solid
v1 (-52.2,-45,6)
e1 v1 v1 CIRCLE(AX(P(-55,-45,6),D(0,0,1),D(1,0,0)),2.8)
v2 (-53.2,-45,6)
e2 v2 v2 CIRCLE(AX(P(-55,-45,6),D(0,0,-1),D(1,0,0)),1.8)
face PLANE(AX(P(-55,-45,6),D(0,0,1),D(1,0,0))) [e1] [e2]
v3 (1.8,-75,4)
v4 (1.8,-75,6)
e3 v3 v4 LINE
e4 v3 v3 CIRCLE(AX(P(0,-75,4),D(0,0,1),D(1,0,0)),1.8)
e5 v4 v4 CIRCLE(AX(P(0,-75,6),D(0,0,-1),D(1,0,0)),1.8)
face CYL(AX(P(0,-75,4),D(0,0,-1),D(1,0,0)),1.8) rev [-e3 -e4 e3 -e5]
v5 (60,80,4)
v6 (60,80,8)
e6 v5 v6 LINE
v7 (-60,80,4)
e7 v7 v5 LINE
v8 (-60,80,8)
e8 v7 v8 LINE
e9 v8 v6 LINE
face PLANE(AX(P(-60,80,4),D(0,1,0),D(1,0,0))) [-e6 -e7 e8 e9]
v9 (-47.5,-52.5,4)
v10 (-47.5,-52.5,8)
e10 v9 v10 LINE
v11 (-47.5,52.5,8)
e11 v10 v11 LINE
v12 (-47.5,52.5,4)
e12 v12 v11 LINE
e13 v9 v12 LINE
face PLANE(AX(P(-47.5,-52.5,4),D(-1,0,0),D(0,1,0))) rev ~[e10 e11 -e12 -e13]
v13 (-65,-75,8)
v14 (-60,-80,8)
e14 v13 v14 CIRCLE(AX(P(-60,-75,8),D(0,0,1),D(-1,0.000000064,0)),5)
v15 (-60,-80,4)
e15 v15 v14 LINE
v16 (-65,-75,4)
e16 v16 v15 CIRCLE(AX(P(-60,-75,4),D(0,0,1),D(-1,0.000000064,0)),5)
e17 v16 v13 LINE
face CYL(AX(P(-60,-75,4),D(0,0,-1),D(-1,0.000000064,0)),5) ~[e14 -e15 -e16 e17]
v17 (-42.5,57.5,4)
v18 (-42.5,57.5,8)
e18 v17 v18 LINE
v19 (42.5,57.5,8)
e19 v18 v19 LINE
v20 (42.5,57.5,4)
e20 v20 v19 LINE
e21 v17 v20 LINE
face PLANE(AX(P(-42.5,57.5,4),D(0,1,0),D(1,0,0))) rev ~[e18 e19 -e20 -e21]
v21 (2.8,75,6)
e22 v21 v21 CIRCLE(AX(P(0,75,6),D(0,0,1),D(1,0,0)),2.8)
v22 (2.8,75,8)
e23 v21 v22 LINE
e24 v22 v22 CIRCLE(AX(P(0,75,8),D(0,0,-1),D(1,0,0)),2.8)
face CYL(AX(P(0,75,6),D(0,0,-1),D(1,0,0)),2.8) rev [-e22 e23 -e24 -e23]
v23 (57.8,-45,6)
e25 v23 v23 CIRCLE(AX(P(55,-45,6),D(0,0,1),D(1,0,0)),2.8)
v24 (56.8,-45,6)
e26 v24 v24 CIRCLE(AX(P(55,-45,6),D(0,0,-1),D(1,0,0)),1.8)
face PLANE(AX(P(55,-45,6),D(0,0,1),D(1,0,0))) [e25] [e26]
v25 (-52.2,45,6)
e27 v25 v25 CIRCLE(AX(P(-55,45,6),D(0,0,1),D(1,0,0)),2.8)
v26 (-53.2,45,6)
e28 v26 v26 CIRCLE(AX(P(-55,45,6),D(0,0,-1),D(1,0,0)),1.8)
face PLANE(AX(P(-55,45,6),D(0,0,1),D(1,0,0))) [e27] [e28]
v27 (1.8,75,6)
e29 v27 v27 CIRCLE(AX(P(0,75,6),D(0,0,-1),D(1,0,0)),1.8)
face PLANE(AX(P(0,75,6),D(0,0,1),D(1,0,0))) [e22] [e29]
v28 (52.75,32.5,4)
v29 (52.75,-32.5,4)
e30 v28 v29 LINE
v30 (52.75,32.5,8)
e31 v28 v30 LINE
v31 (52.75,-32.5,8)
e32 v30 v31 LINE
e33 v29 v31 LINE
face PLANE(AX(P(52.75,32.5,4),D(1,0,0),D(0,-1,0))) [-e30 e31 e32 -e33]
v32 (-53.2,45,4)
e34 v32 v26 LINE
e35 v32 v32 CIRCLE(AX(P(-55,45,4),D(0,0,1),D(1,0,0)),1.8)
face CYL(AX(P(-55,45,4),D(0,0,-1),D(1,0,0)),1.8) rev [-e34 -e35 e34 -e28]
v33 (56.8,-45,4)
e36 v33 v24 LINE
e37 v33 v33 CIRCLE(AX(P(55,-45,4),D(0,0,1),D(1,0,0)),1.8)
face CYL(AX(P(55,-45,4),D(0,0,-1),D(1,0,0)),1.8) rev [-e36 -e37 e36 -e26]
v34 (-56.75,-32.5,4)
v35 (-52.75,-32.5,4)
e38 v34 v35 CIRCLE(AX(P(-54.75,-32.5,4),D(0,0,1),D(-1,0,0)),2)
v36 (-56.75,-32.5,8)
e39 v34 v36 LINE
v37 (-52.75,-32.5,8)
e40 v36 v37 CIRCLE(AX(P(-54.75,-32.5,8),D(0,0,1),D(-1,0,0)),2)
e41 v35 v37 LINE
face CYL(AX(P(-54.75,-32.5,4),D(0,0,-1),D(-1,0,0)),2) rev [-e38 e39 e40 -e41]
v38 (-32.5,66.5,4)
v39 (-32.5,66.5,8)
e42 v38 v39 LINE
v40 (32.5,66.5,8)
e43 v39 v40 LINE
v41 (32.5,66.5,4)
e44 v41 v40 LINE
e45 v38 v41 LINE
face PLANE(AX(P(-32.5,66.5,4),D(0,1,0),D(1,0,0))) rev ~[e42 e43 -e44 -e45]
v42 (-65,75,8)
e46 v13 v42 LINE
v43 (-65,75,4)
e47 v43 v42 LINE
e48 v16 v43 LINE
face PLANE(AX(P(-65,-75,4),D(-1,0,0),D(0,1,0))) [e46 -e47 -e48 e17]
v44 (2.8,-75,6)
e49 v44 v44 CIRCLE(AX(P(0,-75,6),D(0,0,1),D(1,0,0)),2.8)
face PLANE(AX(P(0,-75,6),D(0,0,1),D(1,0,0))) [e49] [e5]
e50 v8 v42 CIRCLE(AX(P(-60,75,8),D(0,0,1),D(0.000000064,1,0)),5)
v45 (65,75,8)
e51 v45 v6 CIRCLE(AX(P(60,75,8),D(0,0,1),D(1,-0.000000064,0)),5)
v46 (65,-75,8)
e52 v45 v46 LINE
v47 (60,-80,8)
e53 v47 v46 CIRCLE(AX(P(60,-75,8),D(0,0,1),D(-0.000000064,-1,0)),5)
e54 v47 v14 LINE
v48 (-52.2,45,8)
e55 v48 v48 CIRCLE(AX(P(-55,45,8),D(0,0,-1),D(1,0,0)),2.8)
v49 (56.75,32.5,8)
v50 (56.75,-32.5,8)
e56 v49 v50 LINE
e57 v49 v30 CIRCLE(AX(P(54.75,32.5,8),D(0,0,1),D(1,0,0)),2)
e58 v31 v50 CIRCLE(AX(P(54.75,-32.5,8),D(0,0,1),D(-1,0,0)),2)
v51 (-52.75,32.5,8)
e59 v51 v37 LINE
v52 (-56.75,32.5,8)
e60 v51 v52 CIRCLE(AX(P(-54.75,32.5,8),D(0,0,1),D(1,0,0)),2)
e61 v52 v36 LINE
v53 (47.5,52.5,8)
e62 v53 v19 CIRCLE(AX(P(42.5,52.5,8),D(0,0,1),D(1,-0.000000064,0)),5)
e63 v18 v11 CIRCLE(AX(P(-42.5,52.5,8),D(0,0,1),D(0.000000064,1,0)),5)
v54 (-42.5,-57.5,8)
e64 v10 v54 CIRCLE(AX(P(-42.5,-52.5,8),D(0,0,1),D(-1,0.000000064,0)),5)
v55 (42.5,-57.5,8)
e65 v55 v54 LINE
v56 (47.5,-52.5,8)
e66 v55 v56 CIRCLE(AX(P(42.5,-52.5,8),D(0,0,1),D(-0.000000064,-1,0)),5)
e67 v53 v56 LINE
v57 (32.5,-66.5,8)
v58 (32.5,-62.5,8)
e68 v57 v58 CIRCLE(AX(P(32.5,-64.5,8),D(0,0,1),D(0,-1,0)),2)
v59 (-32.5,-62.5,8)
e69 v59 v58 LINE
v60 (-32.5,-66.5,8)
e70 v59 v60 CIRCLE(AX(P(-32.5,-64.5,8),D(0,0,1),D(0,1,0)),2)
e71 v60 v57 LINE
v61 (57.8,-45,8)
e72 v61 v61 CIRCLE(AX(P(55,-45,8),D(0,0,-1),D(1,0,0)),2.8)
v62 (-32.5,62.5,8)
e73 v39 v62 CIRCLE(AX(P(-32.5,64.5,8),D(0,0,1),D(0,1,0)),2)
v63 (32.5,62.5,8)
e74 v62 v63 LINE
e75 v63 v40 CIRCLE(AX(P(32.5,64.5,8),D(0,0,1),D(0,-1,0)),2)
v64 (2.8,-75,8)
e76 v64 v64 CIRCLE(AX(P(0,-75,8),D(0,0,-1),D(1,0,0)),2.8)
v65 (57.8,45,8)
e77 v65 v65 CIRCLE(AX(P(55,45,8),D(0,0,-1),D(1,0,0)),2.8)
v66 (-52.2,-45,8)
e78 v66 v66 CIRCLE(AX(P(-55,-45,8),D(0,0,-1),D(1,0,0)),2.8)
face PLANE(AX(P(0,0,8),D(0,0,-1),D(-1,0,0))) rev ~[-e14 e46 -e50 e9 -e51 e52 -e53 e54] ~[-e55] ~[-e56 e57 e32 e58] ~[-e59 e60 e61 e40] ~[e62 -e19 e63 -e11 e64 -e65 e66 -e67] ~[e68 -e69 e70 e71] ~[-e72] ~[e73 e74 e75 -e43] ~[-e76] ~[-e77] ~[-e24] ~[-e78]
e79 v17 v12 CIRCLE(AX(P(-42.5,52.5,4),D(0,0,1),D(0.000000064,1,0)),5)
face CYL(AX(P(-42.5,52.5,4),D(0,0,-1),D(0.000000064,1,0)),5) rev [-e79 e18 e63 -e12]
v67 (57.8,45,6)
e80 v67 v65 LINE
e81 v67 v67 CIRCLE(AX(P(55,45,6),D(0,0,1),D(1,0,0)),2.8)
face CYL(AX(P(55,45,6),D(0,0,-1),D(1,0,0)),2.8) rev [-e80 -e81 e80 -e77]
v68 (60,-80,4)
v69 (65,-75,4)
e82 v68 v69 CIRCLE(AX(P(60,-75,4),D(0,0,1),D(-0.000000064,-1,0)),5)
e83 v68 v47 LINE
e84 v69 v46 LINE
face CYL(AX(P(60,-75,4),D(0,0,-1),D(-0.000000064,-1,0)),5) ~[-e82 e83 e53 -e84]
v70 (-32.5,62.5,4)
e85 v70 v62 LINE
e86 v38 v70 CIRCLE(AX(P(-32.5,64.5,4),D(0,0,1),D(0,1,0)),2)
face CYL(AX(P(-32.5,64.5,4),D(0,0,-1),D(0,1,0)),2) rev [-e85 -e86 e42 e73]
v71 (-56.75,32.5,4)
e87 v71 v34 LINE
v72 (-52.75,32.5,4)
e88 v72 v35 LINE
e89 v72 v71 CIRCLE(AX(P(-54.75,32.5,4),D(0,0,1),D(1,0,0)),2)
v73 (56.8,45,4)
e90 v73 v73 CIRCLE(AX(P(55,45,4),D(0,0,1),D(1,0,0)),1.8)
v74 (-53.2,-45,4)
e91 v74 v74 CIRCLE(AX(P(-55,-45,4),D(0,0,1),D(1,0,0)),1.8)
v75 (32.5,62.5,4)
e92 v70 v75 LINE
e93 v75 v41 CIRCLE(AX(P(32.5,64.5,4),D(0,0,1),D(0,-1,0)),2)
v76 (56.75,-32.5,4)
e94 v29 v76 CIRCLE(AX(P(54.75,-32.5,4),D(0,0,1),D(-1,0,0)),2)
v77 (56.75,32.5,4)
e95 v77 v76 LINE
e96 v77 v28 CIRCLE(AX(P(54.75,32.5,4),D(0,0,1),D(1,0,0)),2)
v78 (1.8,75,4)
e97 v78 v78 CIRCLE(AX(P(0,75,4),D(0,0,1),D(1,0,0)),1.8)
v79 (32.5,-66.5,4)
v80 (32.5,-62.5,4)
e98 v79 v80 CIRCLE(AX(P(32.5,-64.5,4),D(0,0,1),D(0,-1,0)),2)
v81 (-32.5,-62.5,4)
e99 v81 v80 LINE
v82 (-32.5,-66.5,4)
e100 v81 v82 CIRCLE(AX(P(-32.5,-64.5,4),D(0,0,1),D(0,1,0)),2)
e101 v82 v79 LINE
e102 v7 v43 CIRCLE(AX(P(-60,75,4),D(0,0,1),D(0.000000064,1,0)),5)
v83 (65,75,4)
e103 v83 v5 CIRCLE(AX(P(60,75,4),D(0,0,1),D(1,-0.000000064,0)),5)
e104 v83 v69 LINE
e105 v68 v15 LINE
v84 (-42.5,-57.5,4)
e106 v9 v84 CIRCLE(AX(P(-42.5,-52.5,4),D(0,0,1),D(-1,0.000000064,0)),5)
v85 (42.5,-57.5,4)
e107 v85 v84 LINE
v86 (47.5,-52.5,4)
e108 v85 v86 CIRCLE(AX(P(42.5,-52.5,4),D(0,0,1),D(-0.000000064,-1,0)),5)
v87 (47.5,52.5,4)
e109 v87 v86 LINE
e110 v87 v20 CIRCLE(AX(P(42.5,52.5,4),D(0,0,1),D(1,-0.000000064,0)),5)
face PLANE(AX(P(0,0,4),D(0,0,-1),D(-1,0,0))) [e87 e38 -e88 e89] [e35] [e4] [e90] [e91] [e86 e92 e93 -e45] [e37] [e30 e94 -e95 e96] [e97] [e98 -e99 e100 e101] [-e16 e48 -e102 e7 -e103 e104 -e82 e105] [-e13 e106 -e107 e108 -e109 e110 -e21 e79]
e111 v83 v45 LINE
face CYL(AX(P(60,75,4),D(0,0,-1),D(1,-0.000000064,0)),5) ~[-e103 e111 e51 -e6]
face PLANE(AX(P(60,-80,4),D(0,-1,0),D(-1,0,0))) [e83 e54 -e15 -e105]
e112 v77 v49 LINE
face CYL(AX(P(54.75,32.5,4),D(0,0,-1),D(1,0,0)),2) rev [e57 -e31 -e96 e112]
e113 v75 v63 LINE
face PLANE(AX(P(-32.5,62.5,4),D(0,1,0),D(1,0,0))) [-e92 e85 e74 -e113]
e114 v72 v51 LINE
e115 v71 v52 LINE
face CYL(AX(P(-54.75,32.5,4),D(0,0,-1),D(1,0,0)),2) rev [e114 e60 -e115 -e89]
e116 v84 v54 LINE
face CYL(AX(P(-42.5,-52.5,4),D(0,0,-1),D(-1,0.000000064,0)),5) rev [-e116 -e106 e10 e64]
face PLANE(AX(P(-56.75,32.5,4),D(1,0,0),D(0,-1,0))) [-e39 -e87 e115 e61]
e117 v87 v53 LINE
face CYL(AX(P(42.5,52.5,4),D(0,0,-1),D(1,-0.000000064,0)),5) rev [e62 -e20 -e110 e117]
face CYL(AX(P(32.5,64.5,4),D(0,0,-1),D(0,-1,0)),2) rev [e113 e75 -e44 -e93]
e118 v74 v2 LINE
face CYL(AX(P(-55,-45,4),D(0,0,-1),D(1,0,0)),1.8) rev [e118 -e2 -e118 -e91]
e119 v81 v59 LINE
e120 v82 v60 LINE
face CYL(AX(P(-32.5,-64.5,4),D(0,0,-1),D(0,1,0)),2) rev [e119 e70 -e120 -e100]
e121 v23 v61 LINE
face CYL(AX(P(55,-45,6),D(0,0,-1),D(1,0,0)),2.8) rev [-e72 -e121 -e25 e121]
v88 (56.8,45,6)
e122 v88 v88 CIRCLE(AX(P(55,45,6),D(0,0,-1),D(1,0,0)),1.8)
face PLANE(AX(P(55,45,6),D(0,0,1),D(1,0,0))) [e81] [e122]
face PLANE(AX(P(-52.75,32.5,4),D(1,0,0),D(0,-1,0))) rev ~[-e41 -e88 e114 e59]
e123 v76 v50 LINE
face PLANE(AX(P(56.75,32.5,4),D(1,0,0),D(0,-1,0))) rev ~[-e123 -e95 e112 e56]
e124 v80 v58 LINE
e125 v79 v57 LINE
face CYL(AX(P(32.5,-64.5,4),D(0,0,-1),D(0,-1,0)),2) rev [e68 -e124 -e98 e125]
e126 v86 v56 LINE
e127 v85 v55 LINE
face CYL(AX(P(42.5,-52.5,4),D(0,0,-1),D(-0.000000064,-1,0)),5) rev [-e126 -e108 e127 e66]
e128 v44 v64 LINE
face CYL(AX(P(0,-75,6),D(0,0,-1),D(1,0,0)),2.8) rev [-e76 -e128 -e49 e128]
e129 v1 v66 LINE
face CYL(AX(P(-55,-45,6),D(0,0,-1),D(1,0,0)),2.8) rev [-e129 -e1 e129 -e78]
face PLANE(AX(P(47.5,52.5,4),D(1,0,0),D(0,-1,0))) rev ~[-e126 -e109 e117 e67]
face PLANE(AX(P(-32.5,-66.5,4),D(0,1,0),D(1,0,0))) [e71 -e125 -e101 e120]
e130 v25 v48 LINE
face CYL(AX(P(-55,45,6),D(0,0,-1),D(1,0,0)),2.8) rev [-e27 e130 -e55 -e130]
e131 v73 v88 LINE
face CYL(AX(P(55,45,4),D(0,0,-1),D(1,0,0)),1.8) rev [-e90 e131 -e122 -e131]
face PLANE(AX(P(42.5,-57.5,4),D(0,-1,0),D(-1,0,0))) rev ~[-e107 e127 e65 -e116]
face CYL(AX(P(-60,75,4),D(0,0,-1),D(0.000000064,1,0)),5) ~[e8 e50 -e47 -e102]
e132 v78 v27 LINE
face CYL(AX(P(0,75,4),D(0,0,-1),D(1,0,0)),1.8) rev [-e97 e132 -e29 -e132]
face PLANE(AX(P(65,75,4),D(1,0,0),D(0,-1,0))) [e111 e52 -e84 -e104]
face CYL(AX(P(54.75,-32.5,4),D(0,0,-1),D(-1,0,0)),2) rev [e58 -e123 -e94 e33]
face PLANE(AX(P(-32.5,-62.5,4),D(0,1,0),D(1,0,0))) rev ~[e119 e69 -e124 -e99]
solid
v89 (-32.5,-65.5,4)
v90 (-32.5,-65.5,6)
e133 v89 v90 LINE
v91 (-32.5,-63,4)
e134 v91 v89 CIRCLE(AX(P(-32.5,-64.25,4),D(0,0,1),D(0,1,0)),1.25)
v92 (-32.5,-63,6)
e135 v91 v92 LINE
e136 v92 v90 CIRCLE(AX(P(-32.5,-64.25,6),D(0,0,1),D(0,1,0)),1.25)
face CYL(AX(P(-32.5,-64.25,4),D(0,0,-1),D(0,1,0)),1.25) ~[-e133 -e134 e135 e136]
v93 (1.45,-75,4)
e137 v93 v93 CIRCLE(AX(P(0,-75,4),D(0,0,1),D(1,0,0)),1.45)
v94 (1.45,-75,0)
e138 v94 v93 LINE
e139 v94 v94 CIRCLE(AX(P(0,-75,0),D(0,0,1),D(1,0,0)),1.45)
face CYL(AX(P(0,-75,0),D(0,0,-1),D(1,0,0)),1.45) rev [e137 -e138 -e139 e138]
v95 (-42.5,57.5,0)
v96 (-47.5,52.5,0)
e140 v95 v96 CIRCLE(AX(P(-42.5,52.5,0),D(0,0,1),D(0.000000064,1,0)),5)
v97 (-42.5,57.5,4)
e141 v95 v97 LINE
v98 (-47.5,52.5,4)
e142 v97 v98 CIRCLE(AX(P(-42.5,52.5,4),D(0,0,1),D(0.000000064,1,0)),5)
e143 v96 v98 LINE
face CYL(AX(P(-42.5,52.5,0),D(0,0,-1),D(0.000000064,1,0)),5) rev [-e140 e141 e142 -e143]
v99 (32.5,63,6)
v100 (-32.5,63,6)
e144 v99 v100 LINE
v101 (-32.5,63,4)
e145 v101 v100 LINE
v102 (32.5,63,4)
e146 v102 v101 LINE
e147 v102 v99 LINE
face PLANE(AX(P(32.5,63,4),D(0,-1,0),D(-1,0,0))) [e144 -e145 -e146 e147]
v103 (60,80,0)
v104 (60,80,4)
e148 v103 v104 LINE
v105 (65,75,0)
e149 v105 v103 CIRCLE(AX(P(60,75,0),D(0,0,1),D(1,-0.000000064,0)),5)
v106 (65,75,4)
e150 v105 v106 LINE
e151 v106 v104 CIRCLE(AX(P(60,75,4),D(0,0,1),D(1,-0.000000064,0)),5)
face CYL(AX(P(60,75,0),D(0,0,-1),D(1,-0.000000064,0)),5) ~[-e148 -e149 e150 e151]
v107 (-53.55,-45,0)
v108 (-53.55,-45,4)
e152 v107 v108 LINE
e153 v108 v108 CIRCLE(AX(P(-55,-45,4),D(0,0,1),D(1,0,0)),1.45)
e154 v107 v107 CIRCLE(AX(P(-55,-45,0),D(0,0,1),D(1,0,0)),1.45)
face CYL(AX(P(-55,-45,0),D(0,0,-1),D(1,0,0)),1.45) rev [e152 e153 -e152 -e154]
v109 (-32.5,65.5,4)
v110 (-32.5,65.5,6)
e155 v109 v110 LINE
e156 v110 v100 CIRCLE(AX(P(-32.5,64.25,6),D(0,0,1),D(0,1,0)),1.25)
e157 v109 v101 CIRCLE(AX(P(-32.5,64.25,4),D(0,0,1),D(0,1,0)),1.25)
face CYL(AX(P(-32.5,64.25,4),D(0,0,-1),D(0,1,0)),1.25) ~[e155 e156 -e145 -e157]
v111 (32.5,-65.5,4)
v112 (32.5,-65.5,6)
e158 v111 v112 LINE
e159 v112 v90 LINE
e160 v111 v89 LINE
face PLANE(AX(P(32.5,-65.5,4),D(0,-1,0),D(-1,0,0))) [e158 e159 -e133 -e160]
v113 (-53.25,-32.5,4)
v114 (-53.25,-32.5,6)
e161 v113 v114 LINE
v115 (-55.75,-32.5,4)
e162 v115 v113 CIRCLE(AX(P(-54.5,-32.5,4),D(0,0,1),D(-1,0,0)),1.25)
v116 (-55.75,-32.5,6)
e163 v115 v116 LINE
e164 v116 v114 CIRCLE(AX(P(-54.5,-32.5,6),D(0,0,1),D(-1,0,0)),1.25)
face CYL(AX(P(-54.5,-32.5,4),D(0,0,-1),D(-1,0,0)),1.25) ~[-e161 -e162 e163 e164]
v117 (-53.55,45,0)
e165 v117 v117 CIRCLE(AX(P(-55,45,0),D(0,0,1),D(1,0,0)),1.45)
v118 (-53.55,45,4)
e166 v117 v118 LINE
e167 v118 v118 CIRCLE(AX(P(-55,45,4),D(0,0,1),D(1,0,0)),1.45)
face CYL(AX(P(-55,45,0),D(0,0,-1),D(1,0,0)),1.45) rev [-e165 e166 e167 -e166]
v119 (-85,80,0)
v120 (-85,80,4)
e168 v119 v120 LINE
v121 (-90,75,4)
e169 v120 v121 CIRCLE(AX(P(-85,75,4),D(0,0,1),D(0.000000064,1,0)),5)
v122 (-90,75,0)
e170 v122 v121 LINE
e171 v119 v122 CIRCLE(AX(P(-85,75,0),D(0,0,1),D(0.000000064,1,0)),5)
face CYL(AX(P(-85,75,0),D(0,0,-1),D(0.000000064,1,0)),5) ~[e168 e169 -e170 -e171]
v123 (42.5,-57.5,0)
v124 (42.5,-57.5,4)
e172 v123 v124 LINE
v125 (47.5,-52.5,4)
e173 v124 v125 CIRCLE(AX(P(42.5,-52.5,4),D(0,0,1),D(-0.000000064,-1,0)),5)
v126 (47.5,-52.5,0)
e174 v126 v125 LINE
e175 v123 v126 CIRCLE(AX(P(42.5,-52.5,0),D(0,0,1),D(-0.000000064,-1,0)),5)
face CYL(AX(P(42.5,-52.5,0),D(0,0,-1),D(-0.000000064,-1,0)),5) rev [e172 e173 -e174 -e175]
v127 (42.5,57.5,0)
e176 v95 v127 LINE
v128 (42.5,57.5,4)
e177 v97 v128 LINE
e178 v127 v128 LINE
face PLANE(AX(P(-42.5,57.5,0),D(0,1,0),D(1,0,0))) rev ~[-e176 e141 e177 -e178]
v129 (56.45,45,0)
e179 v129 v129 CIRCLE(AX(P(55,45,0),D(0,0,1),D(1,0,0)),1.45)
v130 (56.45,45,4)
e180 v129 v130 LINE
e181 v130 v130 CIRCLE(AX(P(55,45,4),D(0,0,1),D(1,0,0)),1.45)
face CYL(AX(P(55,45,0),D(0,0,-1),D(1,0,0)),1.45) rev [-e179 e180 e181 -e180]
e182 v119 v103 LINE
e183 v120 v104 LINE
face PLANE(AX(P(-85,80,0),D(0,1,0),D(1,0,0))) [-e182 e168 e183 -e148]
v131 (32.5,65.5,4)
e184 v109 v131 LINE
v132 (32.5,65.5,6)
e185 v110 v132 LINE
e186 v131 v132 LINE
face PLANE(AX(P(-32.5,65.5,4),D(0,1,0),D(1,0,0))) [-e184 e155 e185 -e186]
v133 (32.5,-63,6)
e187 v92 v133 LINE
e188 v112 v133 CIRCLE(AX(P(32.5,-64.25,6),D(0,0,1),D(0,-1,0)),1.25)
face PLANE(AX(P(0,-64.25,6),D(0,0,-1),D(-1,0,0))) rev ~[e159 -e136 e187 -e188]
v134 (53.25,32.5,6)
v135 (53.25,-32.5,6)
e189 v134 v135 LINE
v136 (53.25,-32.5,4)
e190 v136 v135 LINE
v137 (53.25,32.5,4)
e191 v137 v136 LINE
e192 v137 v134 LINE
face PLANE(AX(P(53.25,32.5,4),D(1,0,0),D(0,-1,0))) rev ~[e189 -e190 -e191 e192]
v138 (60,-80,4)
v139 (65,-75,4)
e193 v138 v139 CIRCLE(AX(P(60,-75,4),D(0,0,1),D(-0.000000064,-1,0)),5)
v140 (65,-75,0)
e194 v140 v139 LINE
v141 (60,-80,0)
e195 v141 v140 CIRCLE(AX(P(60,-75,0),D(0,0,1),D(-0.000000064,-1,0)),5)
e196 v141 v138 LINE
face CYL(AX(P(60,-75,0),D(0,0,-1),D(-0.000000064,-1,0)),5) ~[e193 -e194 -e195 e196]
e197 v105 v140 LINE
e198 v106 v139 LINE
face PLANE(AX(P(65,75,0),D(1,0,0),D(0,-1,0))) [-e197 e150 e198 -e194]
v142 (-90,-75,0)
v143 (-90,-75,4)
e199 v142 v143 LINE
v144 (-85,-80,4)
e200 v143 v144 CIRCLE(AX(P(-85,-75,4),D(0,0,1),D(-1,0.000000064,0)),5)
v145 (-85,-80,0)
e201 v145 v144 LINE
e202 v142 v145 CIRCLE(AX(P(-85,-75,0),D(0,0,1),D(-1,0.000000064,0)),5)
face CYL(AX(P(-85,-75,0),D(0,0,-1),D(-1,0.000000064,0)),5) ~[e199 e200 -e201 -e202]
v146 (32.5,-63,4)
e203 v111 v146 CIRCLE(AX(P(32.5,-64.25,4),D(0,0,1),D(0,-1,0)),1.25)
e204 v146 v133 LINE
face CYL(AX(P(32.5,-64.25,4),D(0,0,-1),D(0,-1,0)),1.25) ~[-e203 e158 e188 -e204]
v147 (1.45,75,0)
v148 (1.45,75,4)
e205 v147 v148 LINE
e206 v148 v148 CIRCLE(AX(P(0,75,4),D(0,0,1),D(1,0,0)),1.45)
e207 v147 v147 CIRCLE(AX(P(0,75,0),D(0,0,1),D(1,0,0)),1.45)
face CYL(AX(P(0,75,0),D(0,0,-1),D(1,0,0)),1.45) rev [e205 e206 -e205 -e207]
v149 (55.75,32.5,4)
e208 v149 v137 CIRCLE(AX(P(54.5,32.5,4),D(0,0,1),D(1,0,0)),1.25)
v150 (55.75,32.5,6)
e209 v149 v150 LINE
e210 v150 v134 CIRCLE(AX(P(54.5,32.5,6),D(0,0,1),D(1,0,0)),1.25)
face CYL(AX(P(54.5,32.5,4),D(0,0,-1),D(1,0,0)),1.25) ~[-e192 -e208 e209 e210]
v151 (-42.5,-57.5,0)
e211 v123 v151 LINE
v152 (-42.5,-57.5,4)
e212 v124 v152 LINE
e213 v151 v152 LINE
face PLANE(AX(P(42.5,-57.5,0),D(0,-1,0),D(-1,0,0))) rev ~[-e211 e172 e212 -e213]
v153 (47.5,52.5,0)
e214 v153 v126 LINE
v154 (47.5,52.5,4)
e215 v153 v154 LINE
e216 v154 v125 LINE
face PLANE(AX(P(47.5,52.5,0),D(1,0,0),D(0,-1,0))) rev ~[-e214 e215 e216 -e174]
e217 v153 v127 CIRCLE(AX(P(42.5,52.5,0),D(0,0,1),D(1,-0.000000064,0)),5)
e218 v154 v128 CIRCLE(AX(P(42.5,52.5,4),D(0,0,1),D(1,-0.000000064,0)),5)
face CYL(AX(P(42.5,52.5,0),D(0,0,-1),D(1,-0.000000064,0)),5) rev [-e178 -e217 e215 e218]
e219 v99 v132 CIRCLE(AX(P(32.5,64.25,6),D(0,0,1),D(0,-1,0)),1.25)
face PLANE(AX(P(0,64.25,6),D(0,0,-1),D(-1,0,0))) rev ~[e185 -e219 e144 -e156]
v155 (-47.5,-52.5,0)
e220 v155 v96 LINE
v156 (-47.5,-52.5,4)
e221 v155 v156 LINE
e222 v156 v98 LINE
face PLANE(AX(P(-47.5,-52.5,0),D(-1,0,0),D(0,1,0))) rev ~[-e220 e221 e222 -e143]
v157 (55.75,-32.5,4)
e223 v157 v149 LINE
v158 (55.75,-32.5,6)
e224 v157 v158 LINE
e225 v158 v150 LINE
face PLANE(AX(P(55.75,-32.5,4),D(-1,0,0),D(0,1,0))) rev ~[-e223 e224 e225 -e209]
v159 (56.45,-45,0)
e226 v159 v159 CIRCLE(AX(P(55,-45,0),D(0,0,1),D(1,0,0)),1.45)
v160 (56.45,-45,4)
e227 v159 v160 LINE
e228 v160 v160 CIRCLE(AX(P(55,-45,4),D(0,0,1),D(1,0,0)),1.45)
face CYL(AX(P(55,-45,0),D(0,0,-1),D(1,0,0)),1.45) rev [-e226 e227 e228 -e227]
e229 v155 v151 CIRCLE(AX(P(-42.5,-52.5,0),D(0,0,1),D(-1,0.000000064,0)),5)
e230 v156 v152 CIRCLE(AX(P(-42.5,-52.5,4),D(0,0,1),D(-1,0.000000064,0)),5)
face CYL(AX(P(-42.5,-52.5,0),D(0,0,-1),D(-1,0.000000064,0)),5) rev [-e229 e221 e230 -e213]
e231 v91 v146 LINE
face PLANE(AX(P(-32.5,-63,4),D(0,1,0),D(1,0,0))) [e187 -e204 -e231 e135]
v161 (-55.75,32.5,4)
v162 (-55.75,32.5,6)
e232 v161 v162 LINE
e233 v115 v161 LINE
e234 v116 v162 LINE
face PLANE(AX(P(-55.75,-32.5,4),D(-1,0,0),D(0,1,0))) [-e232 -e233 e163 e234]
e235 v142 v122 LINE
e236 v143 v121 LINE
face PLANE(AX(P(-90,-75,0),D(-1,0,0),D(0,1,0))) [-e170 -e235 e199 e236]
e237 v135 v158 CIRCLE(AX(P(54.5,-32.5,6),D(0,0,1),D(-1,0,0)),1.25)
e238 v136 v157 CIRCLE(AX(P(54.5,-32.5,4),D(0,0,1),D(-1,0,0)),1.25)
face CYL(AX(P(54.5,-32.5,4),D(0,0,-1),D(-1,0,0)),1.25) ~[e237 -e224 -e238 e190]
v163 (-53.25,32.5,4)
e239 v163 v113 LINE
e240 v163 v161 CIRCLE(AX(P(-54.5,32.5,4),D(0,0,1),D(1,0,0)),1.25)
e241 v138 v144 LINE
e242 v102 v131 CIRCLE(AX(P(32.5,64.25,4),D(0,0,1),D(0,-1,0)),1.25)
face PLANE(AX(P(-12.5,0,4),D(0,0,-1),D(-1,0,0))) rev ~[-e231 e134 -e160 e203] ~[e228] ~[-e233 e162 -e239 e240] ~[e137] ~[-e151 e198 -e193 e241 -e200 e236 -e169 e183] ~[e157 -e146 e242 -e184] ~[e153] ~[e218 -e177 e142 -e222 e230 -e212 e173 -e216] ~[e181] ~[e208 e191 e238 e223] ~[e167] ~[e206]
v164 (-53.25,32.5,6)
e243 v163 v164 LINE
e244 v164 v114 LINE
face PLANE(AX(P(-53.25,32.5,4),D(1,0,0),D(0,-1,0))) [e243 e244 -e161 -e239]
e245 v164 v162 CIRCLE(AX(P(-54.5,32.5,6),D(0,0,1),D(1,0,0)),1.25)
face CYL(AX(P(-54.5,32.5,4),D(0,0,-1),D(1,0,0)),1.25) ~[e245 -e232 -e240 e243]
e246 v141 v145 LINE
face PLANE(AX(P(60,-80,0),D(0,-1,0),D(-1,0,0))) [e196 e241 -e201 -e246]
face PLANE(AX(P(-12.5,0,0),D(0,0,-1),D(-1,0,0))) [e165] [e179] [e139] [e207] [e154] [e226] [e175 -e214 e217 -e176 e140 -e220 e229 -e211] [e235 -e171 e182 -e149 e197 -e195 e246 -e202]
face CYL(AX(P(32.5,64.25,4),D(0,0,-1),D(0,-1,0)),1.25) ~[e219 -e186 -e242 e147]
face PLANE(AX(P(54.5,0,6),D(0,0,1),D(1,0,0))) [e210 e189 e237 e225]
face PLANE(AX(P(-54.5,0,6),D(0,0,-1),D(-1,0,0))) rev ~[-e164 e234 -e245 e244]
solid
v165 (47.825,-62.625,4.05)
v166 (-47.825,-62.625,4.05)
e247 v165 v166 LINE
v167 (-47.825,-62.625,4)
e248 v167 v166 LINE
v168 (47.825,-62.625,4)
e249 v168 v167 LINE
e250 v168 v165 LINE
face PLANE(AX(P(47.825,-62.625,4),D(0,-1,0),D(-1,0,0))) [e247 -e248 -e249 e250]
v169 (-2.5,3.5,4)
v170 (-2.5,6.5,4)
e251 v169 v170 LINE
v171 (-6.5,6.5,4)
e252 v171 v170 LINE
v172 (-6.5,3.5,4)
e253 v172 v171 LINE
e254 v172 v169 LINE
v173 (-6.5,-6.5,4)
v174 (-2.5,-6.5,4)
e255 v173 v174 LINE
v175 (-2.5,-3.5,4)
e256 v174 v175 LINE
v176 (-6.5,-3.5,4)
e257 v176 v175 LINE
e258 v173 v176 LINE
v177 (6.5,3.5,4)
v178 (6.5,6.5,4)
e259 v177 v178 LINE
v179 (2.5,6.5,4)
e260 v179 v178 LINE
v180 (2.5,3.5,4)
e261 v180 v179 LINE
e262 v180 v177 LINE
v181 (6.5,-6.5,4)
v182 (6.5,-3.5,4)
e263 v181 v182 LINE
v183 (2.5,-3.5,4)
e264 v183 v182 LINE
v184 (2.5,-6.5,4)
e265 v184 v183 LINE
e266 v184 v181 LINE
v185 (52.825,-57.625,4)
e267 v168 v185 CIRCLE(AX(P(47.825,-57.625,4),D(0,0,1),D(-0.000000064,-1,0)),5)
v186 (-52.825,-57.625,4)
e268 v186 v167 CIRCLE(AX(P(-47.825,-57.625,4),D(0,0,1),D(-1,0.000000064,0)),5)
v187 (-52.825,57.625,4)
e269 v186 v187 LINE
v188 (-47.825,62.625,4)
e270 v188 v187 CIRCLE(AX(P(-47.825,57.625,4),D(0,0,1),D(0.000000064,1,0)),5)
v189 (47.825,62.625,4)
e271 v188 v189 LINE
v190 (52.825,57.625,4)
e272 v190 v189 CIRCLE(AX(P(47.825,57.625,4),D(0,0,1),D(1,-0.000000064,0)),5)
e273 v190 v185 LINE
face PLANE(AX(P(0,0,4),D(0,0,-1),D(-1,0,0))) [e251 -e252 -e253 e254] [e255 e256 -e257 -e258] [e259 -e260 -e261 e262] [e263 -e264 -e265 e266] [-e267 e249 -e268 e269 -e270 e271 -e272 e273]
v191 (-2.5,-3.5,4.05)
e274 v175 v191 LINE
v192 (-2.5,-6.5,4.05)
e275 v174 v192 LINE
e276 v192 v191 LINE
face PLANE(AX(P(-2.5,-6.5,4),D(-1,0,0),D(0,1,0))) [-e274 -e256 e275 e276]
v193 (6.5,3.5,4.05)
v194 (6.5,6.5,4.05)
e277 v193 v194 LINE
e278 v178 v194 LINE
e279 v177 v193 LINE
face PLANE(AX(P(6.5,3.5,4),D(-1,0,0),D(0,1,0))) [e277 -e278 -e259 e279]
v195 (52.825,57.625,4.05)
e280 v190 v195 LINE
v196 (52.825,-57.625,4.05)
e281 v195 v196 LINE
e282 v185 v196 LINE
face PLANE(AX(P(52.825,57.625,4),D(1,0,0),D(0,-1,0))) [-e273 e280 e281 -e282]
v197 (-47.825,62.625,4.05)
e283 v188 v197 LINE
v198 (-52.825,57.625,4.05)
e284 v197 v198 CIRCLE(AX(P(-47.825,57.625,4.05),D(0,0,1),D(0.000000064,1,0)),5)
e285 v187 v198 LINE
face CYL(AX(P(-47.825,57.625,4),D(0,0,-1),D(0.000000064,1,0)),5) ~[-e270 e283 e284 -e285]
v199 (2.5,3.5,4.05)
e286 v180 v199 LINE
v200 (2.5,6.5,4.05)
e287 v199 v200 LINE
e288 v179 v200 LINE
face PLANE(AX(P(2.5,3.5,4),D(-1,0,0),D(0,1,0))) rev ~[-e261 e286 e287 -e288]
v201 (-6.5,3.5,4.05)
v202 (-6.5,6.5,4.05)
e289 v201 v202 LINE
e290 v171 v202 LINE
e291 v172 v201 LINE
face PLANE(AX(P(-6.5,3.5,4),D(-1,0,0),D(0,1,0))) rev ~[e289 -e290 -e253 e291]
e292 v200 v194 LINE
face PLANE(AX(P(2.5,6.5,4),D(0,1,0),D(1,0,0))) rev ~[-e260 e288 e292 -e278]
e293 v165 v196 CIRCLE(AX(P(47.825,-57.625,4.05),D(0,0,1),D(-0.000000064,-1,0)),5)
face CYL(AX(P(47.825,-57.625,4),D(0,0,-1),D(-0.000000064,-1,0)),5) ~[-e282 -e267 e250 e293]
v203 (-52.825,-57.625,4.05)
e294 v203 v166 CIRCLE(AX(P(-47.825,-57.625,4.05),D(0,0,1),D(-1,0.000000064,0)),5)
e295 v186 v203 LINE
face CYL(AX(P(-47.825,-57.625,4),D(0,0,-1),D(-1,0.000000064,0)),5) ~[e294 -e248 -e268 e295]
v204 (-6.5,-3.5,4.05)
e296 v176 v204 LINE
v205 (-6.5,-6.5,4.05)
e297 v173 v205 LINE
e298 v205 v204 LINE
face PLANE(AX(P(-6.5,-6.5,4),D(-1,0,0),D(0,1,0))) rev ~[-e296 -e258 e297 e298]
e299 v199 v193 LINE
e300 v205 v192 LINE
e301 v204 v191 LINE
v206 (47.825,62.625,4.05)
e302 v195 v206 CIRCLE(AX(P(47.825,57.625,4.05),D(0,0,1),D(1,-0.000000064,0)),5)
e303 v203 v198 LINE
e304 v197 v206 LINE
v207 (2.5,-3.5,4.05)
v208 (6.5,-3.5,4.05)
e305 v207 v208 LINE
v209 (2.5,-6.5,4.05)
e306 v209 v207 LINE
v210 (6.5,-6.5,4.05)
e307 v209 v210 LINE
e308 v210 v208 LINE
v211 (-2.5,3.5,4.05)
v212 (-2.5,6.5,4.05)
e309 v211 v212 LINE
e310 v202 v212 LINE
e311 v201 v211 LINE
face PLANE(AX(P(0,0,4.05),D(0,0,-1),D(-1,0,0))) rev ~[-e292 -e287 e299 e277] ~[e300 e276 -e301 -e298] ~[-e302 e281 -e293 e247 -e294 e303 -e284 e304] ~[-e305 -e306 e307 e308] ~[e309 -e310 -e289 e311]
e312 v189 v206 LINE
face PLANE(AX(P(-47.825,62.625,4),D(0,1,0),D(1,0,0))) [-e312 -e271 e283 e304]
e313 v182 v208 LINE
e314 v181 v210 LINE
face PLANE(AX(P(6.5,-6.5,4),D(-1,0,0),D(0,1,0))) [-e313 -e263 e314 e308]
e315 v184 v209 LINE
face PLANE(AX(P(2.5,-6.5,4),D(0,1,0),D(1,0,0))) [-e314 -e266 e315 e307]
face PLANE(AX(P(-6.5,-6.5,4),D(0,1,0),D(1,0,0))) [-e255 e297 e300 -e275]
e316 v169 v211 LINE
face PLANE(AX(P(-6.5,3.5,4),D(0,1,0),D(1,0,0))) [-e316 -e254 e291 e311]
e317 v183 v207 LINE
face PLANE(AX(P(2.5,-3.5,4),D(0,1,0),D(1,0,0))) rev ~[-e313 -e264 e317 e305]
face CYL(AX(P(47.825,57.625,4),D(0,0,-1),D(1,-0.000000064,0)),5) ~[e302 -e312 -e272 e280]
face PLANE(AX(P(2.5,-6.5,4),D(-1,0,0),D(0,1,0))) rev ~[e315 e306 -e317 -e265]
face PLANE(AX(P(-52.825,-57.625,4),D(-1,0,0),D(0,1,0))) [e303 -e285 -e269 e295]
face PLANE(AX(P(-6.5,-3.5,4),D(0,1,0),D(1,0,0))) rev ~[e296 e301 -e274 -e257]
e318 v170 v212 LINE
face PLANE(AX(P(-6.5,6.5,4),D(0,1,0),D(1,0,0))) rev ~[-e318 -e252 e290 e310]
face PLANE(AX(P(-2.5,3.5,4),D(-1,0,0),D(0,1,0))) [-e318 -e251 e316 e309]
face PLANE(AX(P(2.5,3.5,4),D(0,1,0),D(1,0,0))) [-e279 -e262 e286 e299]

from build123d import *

# Parameters (mm, degrees)
SKETCH_W         = 4
SKETCH_H         = 3
EXTRUDE_DEPTH    = 0.05
EXTRUDE005_DEPTH = 2
SKETCH001_R      = 1.45
EXTRUDE001_DEPTH = 4
SKETCH004_R      = 2.8
EXTRUDE004_DEPTH = 3
SKETCH003_R      = 1.8
EXTRUDE003_DEPTH = 4


with BuildPart() as extrude_body:
    # Sketch → Extrude (new body)
    with BuildSketch(Plane.XY):
        with BuildLine():
            Line((-47.825, 62.625), (47.825, 62.625))
            ThreePointArc((52.825, 57.625), (51.360534, 61.160534), (47.825, 62.625))
            Line((52.825, 57.625), (52.825, -57.625))
            ThreePointArc((47.825, -62.625), (51.360534, -61.160534), (52.825, -57.625))
            Line((47.825, -62.625), (-47.825, -62.625))
            ThreePointArc((-52.825, -57.625), (-51.360534, -61.160534), (-47.825, -62.625))
            Line((-52.825, -57.625), (-52.825, 57.625))
            ThreePointArc((-47.825, 62.625), (-51.360534, 61.160534), (-52.825, 57.625))
        make_face()
        with Locations((-4.5, 5)):
            Rectangle(SKETCH_W, SKETCH_H, mode=Mode.SUBTRACT)
        with Locations((4.5, 5)):
            Rectangle(SKETCH_W, SKETCH_H, mode=Mode.SUBTRACT)
        with Locations((-4.5, -5)):
            Rectangle(SKETCH_W, SKETCH_H, mode=Mode.SUBTRACT)
        with Locations((4.5, -5)):
            Rectangle(SKETCH_W, SKETCH_H, mode=Mode.SUBTRACT)
    extrude(amount=EXTRUDE_DEPTH)


with BuildPart() as extrude_body_1:
    # Extrude placement: moved
    add(extrude_body.part.moved(Location((0, 0, 4))))


with BuildPart() as extrude005:
    # Sketch002 → Extrude005 (new body)
    with BuildSketch(Plane.XY):
        with BuildLine():
            Line((53.25, 32.5), (53.25, -32.5))
            ThreePointArc((53.25, -32.5), (54.5, -33.75), (55.75, -32.5))
            Line((55.75, -32.5), (55.75, 32.5))
            ThreePointArc((55.75, 32.5), (54.5, 33.75), (53.25, 32.5))
        make_face()
        with BuildLine():
            Line((-53.25, 32.5), (-53.25, -32.5))
            ThreePointArc((-55.75, -32.5), (-54.5, -33.75), (-53.25, -32.5))
            Line((-55.75, -32.5), (-55.75, 32.5))
            ThreePointArc((-53.25, 32.5), (-54.5, 33.75), (-55.75, 32.5))
        make_face()
        with BuildLine():
            Line((-32.5, 65.5), (32.5, 65.5))
            ThreePointArc((32.5, 63), (33.75, 64.25), (32.5, 65.5))
            Line((32.5, 63), (-32.5, 63))
            ThreePointArc((-32.5, 65.5), (-33.75, 64.25), (-32.5, 63))
        make_face()
        with BuildLine():
            Line((-32.5, -63), (32.5, -63))
            ThreePointArc((32.5, -65.5), (33.75, -64.25), (32.5, -63))
            Line((32.5, -65.5), (-32.5, -65.5))
            ThreePointArc((-32.5, -63), (-33.75, -64.25), (-32.5, -65.5))
        make_face()
    extrude(amount=EXTRUDE005_DEPTH)


with BuildPart() as extrude005_1:
    # Extrude005 placement: moved
    add(extrude005.part.moved(Location((0, 0, 4))))


with BuildPart() as fusion:
    # Sketch001 → Extrude001 (new body)
    with BuildSketch(Plane.XY):
        with BuildLine():
            Line((-85, 80), (60, 80))
            ThreePointArc((65, 75), (63.535534, 78.535534), (60, 80))
            Line((65, 75), (65, -75))
            ThreePointArc((60, -80), (63.535534, -78.535534), (65, -75))
            Line((60, -80), (-85, -80))
            ThreePointArc((-90, -75), (-88.535534, -78.535534), (-85, -80))
            Line((-90, -75), (-90, 75))
            ThreePointArc((-85, 80), (-88.535534, 78.535534), (-90, 75))
        make_face()
        with Locations((-55, 45)):
            Circle(SKETCH001_R, mode=Mode.SUBTRACT)
        with Locations((55, -45)):
            Circle(SKETCH001_R, mode=Mode.SUBTRACT)
        with Locations((-55, -45)):
            Circle(SKETCH001_R, mode=Mode.SUBTRACT)
        with Locations((55, 45)):
            Circle(SKETCH001_R, mode=Mode.SUBTRACT)
        with Locations((0, 75)):
            Circle(SKETCH001_R, mode=Mode.SUBTRACT)
        with Locations((0, -75)):
            Circle(SKETCH001_R, mode=Mode.SUBTRACT)
        with BuildLine():
            Line((-42.5, 57.5), (42.5, 57.5))
            ThreePointArc((47.5, 52.5), (46.035534, 56.035534), (42.5, 57.5))
            Line((47.5, 52.5), (47.5, -52.5))
            ThreePointArc((42.5, -57.5), (46.035534, -56.035534), (47.5, -52.5))
            Line((42.5, -57.5), (-42.5, -57.5))
            ThreePointArc((-47.5, -52.5), (-46.035534, -56.035534), (-42.5, -57.5))
            Line((-47.5, -52.5), (-47.5, 52.5))
            ThreePointArc((-42.5, 57.5), (-46.035534, 56.035534), (-47.5, 52.5))
        make_face(mode=Mode.SUBTRACT)
    extrude(amount=EXTRUDE001_DEPTH)

    # Fusion: union Extrude005
    add(extrude005_1.part)


with BuildPart() as extrude004:
    # Sketch004 → Extrude004 (new body)
    with BuildSketch(Plane.XY):
        with Locations((-55, 45)):
            Circle(SKETCH004_R)
        with Locations((55, -45)):
            Circle(SKETCH004_R)
        with Locations((-55, -45)):
            Circle(SKETCH004_R)
        with Locations((55, 45)):
            Circle(SKETCH004_R)
        with Locations((0, -75)):
            Circle(SKETCH004_R)
        with Locations((0, 75)):
            Circle(SKETCH004_R)
    extrude(amount=EXTRUDE004_DEPTH)


with BuildPart() as extrude004_1:
    # Extrude004 placement: moved
    add(extrude004.part.moved(Location((0, 0, 6))))


with BuildPart() as cut:
    # Sketch003 → Extrude003 (new body)
    with BuildSketch(Plane.XY):
        with BuildLine():
            Line((-60, 80), (60, 80))
            ThreePointArc((65, 75), (63.535534, 78.535534), (60, 80))
            Line((65, 75), (65, -75))
            ThreePointArc((60, -80), (63.535534, -78.535534), (65, -75))
            Line((60, -80), (-60, -80))
            ThreePointArc((-65, -75), (-63.535534, -78.535534), (-60, -80))
            Line((-65, -75), (-65, 75))
            ThreePointArc((-60, 80), (-63.535534, 78.535534), (-65, 75))
        make_face()
        with Locations((-55, 45)):
            Circle(SKETCH003_R, mode=Mode.SUBTRACT)
        with Locations((55, -45)):
            Circle(SKETCH003_R, mode=Mode.SUBTRACT)
        with Locations((-55, -45)):
            Circle(SKETCH003_R, mode=Mode.SUBTRACT)
        with Locations((55, 45)):
            Circle(SKETCH003_R, mode=Mode.SUBTRACT)
        with Locations((0, -75)):
            Circle(SKETCH003_R, mode=Mode.SUBTRACT)
        with Locations((0, 75)):
            Circle(SKETCH003_R, mode=Mode.SUBTRACT)
        with BuildLine():
            Line((-42.5, 57.5), (42.5, 57.5))
            ThreePointArc((47.5, 52.5), (46.035534, 56.035534), (42.5, 57.5))
            Line((47.5, 52.5), (47.5, -52.5))
            ThreePointArc((42.5, -57.5), (46.035534, -56.035534), (47.5, -52.5))
            Line((42.5, -57.5), (-42.5, -57.5))
            ThreePointArc((-47.5, -52.5), (-46.035534, -56.035534), (-42.5, -57.5))
            Line((-47.5, -52.5), (-47.5, 52.5))
            ThreePointArc((-42.5, 57.5), (-46.035534, 56.035534), (-47.5, 52.5))
        make_face(mode=Mode.SUBTRACT)
        with BuildLine():
            ThreePointArc((-52.75, 32.5), (-54.75, 34.5), (-56.75, 32.5))
            Line((-56.75, 32.5), (-56.75, -32.5))
            ThreePointArc((-56.75, -32.5), (-54.75, -34.5), (-52.75, -32.5))
            Line((-52.75, 32.5), (-52.75, -32.5))
        make_face(mode=Mode.SUBTRACT)
        with BuildLine():
            ThreePointArc((-32.5, -62.5), (-34.5, -64.5), (-32.5, -66.5))
            Line((-32.5, -66.5), (32.5, -66.5))
            ThreePointArc((32.5, -66.5), (34.5, -64.5), (32.5, -62.5))
            Line((-32.5, -62.5), (32.5, -62.5))
        make_face(mode=Mode.SUBTRACT)
        with BuildLine():
            ThreePointArc((56.75, 32.5), (54.75, 34.5), (52.75, 32.5))
            Line((52.75, 32.5), (52.75, -32.5))
            ThreePointArc((52.75, -32.5), (54.75, -34.5), (56.75, -32.5))
            Line((56.75, 32.5), (56.75, -32.5))
        make_face(mode=Mode.SUBTRACT)
        with BuildLine():
            ThreePointArc((-32.5, 66.5), (-34.5, 64.5), (-32.5, 62.5))
            Line((-32.5, 62.5), (32.5, 62.5))
            ThreePointArc((32.5, 62.5), (34.5, 64.5), (32.5, 66.5))
            Line((-32.5, 66.5), (32.5, 66.5))
        make_face(mode=Mode.SUBTRACT)
    extrude(amount=EXTRUDE003_DEPTH)


with BuildPart() as cut_1:
    # Extrude003 placement: moved
    add(cut.part.moved(Location((0, 0, 4))))

    # Cut: cut Extrude004
    add(extrude004_1.part, mode=Mode.SUBTRACT)


solid = Compound([extrude_body_1.part, fusion.part, cut_1.part])
